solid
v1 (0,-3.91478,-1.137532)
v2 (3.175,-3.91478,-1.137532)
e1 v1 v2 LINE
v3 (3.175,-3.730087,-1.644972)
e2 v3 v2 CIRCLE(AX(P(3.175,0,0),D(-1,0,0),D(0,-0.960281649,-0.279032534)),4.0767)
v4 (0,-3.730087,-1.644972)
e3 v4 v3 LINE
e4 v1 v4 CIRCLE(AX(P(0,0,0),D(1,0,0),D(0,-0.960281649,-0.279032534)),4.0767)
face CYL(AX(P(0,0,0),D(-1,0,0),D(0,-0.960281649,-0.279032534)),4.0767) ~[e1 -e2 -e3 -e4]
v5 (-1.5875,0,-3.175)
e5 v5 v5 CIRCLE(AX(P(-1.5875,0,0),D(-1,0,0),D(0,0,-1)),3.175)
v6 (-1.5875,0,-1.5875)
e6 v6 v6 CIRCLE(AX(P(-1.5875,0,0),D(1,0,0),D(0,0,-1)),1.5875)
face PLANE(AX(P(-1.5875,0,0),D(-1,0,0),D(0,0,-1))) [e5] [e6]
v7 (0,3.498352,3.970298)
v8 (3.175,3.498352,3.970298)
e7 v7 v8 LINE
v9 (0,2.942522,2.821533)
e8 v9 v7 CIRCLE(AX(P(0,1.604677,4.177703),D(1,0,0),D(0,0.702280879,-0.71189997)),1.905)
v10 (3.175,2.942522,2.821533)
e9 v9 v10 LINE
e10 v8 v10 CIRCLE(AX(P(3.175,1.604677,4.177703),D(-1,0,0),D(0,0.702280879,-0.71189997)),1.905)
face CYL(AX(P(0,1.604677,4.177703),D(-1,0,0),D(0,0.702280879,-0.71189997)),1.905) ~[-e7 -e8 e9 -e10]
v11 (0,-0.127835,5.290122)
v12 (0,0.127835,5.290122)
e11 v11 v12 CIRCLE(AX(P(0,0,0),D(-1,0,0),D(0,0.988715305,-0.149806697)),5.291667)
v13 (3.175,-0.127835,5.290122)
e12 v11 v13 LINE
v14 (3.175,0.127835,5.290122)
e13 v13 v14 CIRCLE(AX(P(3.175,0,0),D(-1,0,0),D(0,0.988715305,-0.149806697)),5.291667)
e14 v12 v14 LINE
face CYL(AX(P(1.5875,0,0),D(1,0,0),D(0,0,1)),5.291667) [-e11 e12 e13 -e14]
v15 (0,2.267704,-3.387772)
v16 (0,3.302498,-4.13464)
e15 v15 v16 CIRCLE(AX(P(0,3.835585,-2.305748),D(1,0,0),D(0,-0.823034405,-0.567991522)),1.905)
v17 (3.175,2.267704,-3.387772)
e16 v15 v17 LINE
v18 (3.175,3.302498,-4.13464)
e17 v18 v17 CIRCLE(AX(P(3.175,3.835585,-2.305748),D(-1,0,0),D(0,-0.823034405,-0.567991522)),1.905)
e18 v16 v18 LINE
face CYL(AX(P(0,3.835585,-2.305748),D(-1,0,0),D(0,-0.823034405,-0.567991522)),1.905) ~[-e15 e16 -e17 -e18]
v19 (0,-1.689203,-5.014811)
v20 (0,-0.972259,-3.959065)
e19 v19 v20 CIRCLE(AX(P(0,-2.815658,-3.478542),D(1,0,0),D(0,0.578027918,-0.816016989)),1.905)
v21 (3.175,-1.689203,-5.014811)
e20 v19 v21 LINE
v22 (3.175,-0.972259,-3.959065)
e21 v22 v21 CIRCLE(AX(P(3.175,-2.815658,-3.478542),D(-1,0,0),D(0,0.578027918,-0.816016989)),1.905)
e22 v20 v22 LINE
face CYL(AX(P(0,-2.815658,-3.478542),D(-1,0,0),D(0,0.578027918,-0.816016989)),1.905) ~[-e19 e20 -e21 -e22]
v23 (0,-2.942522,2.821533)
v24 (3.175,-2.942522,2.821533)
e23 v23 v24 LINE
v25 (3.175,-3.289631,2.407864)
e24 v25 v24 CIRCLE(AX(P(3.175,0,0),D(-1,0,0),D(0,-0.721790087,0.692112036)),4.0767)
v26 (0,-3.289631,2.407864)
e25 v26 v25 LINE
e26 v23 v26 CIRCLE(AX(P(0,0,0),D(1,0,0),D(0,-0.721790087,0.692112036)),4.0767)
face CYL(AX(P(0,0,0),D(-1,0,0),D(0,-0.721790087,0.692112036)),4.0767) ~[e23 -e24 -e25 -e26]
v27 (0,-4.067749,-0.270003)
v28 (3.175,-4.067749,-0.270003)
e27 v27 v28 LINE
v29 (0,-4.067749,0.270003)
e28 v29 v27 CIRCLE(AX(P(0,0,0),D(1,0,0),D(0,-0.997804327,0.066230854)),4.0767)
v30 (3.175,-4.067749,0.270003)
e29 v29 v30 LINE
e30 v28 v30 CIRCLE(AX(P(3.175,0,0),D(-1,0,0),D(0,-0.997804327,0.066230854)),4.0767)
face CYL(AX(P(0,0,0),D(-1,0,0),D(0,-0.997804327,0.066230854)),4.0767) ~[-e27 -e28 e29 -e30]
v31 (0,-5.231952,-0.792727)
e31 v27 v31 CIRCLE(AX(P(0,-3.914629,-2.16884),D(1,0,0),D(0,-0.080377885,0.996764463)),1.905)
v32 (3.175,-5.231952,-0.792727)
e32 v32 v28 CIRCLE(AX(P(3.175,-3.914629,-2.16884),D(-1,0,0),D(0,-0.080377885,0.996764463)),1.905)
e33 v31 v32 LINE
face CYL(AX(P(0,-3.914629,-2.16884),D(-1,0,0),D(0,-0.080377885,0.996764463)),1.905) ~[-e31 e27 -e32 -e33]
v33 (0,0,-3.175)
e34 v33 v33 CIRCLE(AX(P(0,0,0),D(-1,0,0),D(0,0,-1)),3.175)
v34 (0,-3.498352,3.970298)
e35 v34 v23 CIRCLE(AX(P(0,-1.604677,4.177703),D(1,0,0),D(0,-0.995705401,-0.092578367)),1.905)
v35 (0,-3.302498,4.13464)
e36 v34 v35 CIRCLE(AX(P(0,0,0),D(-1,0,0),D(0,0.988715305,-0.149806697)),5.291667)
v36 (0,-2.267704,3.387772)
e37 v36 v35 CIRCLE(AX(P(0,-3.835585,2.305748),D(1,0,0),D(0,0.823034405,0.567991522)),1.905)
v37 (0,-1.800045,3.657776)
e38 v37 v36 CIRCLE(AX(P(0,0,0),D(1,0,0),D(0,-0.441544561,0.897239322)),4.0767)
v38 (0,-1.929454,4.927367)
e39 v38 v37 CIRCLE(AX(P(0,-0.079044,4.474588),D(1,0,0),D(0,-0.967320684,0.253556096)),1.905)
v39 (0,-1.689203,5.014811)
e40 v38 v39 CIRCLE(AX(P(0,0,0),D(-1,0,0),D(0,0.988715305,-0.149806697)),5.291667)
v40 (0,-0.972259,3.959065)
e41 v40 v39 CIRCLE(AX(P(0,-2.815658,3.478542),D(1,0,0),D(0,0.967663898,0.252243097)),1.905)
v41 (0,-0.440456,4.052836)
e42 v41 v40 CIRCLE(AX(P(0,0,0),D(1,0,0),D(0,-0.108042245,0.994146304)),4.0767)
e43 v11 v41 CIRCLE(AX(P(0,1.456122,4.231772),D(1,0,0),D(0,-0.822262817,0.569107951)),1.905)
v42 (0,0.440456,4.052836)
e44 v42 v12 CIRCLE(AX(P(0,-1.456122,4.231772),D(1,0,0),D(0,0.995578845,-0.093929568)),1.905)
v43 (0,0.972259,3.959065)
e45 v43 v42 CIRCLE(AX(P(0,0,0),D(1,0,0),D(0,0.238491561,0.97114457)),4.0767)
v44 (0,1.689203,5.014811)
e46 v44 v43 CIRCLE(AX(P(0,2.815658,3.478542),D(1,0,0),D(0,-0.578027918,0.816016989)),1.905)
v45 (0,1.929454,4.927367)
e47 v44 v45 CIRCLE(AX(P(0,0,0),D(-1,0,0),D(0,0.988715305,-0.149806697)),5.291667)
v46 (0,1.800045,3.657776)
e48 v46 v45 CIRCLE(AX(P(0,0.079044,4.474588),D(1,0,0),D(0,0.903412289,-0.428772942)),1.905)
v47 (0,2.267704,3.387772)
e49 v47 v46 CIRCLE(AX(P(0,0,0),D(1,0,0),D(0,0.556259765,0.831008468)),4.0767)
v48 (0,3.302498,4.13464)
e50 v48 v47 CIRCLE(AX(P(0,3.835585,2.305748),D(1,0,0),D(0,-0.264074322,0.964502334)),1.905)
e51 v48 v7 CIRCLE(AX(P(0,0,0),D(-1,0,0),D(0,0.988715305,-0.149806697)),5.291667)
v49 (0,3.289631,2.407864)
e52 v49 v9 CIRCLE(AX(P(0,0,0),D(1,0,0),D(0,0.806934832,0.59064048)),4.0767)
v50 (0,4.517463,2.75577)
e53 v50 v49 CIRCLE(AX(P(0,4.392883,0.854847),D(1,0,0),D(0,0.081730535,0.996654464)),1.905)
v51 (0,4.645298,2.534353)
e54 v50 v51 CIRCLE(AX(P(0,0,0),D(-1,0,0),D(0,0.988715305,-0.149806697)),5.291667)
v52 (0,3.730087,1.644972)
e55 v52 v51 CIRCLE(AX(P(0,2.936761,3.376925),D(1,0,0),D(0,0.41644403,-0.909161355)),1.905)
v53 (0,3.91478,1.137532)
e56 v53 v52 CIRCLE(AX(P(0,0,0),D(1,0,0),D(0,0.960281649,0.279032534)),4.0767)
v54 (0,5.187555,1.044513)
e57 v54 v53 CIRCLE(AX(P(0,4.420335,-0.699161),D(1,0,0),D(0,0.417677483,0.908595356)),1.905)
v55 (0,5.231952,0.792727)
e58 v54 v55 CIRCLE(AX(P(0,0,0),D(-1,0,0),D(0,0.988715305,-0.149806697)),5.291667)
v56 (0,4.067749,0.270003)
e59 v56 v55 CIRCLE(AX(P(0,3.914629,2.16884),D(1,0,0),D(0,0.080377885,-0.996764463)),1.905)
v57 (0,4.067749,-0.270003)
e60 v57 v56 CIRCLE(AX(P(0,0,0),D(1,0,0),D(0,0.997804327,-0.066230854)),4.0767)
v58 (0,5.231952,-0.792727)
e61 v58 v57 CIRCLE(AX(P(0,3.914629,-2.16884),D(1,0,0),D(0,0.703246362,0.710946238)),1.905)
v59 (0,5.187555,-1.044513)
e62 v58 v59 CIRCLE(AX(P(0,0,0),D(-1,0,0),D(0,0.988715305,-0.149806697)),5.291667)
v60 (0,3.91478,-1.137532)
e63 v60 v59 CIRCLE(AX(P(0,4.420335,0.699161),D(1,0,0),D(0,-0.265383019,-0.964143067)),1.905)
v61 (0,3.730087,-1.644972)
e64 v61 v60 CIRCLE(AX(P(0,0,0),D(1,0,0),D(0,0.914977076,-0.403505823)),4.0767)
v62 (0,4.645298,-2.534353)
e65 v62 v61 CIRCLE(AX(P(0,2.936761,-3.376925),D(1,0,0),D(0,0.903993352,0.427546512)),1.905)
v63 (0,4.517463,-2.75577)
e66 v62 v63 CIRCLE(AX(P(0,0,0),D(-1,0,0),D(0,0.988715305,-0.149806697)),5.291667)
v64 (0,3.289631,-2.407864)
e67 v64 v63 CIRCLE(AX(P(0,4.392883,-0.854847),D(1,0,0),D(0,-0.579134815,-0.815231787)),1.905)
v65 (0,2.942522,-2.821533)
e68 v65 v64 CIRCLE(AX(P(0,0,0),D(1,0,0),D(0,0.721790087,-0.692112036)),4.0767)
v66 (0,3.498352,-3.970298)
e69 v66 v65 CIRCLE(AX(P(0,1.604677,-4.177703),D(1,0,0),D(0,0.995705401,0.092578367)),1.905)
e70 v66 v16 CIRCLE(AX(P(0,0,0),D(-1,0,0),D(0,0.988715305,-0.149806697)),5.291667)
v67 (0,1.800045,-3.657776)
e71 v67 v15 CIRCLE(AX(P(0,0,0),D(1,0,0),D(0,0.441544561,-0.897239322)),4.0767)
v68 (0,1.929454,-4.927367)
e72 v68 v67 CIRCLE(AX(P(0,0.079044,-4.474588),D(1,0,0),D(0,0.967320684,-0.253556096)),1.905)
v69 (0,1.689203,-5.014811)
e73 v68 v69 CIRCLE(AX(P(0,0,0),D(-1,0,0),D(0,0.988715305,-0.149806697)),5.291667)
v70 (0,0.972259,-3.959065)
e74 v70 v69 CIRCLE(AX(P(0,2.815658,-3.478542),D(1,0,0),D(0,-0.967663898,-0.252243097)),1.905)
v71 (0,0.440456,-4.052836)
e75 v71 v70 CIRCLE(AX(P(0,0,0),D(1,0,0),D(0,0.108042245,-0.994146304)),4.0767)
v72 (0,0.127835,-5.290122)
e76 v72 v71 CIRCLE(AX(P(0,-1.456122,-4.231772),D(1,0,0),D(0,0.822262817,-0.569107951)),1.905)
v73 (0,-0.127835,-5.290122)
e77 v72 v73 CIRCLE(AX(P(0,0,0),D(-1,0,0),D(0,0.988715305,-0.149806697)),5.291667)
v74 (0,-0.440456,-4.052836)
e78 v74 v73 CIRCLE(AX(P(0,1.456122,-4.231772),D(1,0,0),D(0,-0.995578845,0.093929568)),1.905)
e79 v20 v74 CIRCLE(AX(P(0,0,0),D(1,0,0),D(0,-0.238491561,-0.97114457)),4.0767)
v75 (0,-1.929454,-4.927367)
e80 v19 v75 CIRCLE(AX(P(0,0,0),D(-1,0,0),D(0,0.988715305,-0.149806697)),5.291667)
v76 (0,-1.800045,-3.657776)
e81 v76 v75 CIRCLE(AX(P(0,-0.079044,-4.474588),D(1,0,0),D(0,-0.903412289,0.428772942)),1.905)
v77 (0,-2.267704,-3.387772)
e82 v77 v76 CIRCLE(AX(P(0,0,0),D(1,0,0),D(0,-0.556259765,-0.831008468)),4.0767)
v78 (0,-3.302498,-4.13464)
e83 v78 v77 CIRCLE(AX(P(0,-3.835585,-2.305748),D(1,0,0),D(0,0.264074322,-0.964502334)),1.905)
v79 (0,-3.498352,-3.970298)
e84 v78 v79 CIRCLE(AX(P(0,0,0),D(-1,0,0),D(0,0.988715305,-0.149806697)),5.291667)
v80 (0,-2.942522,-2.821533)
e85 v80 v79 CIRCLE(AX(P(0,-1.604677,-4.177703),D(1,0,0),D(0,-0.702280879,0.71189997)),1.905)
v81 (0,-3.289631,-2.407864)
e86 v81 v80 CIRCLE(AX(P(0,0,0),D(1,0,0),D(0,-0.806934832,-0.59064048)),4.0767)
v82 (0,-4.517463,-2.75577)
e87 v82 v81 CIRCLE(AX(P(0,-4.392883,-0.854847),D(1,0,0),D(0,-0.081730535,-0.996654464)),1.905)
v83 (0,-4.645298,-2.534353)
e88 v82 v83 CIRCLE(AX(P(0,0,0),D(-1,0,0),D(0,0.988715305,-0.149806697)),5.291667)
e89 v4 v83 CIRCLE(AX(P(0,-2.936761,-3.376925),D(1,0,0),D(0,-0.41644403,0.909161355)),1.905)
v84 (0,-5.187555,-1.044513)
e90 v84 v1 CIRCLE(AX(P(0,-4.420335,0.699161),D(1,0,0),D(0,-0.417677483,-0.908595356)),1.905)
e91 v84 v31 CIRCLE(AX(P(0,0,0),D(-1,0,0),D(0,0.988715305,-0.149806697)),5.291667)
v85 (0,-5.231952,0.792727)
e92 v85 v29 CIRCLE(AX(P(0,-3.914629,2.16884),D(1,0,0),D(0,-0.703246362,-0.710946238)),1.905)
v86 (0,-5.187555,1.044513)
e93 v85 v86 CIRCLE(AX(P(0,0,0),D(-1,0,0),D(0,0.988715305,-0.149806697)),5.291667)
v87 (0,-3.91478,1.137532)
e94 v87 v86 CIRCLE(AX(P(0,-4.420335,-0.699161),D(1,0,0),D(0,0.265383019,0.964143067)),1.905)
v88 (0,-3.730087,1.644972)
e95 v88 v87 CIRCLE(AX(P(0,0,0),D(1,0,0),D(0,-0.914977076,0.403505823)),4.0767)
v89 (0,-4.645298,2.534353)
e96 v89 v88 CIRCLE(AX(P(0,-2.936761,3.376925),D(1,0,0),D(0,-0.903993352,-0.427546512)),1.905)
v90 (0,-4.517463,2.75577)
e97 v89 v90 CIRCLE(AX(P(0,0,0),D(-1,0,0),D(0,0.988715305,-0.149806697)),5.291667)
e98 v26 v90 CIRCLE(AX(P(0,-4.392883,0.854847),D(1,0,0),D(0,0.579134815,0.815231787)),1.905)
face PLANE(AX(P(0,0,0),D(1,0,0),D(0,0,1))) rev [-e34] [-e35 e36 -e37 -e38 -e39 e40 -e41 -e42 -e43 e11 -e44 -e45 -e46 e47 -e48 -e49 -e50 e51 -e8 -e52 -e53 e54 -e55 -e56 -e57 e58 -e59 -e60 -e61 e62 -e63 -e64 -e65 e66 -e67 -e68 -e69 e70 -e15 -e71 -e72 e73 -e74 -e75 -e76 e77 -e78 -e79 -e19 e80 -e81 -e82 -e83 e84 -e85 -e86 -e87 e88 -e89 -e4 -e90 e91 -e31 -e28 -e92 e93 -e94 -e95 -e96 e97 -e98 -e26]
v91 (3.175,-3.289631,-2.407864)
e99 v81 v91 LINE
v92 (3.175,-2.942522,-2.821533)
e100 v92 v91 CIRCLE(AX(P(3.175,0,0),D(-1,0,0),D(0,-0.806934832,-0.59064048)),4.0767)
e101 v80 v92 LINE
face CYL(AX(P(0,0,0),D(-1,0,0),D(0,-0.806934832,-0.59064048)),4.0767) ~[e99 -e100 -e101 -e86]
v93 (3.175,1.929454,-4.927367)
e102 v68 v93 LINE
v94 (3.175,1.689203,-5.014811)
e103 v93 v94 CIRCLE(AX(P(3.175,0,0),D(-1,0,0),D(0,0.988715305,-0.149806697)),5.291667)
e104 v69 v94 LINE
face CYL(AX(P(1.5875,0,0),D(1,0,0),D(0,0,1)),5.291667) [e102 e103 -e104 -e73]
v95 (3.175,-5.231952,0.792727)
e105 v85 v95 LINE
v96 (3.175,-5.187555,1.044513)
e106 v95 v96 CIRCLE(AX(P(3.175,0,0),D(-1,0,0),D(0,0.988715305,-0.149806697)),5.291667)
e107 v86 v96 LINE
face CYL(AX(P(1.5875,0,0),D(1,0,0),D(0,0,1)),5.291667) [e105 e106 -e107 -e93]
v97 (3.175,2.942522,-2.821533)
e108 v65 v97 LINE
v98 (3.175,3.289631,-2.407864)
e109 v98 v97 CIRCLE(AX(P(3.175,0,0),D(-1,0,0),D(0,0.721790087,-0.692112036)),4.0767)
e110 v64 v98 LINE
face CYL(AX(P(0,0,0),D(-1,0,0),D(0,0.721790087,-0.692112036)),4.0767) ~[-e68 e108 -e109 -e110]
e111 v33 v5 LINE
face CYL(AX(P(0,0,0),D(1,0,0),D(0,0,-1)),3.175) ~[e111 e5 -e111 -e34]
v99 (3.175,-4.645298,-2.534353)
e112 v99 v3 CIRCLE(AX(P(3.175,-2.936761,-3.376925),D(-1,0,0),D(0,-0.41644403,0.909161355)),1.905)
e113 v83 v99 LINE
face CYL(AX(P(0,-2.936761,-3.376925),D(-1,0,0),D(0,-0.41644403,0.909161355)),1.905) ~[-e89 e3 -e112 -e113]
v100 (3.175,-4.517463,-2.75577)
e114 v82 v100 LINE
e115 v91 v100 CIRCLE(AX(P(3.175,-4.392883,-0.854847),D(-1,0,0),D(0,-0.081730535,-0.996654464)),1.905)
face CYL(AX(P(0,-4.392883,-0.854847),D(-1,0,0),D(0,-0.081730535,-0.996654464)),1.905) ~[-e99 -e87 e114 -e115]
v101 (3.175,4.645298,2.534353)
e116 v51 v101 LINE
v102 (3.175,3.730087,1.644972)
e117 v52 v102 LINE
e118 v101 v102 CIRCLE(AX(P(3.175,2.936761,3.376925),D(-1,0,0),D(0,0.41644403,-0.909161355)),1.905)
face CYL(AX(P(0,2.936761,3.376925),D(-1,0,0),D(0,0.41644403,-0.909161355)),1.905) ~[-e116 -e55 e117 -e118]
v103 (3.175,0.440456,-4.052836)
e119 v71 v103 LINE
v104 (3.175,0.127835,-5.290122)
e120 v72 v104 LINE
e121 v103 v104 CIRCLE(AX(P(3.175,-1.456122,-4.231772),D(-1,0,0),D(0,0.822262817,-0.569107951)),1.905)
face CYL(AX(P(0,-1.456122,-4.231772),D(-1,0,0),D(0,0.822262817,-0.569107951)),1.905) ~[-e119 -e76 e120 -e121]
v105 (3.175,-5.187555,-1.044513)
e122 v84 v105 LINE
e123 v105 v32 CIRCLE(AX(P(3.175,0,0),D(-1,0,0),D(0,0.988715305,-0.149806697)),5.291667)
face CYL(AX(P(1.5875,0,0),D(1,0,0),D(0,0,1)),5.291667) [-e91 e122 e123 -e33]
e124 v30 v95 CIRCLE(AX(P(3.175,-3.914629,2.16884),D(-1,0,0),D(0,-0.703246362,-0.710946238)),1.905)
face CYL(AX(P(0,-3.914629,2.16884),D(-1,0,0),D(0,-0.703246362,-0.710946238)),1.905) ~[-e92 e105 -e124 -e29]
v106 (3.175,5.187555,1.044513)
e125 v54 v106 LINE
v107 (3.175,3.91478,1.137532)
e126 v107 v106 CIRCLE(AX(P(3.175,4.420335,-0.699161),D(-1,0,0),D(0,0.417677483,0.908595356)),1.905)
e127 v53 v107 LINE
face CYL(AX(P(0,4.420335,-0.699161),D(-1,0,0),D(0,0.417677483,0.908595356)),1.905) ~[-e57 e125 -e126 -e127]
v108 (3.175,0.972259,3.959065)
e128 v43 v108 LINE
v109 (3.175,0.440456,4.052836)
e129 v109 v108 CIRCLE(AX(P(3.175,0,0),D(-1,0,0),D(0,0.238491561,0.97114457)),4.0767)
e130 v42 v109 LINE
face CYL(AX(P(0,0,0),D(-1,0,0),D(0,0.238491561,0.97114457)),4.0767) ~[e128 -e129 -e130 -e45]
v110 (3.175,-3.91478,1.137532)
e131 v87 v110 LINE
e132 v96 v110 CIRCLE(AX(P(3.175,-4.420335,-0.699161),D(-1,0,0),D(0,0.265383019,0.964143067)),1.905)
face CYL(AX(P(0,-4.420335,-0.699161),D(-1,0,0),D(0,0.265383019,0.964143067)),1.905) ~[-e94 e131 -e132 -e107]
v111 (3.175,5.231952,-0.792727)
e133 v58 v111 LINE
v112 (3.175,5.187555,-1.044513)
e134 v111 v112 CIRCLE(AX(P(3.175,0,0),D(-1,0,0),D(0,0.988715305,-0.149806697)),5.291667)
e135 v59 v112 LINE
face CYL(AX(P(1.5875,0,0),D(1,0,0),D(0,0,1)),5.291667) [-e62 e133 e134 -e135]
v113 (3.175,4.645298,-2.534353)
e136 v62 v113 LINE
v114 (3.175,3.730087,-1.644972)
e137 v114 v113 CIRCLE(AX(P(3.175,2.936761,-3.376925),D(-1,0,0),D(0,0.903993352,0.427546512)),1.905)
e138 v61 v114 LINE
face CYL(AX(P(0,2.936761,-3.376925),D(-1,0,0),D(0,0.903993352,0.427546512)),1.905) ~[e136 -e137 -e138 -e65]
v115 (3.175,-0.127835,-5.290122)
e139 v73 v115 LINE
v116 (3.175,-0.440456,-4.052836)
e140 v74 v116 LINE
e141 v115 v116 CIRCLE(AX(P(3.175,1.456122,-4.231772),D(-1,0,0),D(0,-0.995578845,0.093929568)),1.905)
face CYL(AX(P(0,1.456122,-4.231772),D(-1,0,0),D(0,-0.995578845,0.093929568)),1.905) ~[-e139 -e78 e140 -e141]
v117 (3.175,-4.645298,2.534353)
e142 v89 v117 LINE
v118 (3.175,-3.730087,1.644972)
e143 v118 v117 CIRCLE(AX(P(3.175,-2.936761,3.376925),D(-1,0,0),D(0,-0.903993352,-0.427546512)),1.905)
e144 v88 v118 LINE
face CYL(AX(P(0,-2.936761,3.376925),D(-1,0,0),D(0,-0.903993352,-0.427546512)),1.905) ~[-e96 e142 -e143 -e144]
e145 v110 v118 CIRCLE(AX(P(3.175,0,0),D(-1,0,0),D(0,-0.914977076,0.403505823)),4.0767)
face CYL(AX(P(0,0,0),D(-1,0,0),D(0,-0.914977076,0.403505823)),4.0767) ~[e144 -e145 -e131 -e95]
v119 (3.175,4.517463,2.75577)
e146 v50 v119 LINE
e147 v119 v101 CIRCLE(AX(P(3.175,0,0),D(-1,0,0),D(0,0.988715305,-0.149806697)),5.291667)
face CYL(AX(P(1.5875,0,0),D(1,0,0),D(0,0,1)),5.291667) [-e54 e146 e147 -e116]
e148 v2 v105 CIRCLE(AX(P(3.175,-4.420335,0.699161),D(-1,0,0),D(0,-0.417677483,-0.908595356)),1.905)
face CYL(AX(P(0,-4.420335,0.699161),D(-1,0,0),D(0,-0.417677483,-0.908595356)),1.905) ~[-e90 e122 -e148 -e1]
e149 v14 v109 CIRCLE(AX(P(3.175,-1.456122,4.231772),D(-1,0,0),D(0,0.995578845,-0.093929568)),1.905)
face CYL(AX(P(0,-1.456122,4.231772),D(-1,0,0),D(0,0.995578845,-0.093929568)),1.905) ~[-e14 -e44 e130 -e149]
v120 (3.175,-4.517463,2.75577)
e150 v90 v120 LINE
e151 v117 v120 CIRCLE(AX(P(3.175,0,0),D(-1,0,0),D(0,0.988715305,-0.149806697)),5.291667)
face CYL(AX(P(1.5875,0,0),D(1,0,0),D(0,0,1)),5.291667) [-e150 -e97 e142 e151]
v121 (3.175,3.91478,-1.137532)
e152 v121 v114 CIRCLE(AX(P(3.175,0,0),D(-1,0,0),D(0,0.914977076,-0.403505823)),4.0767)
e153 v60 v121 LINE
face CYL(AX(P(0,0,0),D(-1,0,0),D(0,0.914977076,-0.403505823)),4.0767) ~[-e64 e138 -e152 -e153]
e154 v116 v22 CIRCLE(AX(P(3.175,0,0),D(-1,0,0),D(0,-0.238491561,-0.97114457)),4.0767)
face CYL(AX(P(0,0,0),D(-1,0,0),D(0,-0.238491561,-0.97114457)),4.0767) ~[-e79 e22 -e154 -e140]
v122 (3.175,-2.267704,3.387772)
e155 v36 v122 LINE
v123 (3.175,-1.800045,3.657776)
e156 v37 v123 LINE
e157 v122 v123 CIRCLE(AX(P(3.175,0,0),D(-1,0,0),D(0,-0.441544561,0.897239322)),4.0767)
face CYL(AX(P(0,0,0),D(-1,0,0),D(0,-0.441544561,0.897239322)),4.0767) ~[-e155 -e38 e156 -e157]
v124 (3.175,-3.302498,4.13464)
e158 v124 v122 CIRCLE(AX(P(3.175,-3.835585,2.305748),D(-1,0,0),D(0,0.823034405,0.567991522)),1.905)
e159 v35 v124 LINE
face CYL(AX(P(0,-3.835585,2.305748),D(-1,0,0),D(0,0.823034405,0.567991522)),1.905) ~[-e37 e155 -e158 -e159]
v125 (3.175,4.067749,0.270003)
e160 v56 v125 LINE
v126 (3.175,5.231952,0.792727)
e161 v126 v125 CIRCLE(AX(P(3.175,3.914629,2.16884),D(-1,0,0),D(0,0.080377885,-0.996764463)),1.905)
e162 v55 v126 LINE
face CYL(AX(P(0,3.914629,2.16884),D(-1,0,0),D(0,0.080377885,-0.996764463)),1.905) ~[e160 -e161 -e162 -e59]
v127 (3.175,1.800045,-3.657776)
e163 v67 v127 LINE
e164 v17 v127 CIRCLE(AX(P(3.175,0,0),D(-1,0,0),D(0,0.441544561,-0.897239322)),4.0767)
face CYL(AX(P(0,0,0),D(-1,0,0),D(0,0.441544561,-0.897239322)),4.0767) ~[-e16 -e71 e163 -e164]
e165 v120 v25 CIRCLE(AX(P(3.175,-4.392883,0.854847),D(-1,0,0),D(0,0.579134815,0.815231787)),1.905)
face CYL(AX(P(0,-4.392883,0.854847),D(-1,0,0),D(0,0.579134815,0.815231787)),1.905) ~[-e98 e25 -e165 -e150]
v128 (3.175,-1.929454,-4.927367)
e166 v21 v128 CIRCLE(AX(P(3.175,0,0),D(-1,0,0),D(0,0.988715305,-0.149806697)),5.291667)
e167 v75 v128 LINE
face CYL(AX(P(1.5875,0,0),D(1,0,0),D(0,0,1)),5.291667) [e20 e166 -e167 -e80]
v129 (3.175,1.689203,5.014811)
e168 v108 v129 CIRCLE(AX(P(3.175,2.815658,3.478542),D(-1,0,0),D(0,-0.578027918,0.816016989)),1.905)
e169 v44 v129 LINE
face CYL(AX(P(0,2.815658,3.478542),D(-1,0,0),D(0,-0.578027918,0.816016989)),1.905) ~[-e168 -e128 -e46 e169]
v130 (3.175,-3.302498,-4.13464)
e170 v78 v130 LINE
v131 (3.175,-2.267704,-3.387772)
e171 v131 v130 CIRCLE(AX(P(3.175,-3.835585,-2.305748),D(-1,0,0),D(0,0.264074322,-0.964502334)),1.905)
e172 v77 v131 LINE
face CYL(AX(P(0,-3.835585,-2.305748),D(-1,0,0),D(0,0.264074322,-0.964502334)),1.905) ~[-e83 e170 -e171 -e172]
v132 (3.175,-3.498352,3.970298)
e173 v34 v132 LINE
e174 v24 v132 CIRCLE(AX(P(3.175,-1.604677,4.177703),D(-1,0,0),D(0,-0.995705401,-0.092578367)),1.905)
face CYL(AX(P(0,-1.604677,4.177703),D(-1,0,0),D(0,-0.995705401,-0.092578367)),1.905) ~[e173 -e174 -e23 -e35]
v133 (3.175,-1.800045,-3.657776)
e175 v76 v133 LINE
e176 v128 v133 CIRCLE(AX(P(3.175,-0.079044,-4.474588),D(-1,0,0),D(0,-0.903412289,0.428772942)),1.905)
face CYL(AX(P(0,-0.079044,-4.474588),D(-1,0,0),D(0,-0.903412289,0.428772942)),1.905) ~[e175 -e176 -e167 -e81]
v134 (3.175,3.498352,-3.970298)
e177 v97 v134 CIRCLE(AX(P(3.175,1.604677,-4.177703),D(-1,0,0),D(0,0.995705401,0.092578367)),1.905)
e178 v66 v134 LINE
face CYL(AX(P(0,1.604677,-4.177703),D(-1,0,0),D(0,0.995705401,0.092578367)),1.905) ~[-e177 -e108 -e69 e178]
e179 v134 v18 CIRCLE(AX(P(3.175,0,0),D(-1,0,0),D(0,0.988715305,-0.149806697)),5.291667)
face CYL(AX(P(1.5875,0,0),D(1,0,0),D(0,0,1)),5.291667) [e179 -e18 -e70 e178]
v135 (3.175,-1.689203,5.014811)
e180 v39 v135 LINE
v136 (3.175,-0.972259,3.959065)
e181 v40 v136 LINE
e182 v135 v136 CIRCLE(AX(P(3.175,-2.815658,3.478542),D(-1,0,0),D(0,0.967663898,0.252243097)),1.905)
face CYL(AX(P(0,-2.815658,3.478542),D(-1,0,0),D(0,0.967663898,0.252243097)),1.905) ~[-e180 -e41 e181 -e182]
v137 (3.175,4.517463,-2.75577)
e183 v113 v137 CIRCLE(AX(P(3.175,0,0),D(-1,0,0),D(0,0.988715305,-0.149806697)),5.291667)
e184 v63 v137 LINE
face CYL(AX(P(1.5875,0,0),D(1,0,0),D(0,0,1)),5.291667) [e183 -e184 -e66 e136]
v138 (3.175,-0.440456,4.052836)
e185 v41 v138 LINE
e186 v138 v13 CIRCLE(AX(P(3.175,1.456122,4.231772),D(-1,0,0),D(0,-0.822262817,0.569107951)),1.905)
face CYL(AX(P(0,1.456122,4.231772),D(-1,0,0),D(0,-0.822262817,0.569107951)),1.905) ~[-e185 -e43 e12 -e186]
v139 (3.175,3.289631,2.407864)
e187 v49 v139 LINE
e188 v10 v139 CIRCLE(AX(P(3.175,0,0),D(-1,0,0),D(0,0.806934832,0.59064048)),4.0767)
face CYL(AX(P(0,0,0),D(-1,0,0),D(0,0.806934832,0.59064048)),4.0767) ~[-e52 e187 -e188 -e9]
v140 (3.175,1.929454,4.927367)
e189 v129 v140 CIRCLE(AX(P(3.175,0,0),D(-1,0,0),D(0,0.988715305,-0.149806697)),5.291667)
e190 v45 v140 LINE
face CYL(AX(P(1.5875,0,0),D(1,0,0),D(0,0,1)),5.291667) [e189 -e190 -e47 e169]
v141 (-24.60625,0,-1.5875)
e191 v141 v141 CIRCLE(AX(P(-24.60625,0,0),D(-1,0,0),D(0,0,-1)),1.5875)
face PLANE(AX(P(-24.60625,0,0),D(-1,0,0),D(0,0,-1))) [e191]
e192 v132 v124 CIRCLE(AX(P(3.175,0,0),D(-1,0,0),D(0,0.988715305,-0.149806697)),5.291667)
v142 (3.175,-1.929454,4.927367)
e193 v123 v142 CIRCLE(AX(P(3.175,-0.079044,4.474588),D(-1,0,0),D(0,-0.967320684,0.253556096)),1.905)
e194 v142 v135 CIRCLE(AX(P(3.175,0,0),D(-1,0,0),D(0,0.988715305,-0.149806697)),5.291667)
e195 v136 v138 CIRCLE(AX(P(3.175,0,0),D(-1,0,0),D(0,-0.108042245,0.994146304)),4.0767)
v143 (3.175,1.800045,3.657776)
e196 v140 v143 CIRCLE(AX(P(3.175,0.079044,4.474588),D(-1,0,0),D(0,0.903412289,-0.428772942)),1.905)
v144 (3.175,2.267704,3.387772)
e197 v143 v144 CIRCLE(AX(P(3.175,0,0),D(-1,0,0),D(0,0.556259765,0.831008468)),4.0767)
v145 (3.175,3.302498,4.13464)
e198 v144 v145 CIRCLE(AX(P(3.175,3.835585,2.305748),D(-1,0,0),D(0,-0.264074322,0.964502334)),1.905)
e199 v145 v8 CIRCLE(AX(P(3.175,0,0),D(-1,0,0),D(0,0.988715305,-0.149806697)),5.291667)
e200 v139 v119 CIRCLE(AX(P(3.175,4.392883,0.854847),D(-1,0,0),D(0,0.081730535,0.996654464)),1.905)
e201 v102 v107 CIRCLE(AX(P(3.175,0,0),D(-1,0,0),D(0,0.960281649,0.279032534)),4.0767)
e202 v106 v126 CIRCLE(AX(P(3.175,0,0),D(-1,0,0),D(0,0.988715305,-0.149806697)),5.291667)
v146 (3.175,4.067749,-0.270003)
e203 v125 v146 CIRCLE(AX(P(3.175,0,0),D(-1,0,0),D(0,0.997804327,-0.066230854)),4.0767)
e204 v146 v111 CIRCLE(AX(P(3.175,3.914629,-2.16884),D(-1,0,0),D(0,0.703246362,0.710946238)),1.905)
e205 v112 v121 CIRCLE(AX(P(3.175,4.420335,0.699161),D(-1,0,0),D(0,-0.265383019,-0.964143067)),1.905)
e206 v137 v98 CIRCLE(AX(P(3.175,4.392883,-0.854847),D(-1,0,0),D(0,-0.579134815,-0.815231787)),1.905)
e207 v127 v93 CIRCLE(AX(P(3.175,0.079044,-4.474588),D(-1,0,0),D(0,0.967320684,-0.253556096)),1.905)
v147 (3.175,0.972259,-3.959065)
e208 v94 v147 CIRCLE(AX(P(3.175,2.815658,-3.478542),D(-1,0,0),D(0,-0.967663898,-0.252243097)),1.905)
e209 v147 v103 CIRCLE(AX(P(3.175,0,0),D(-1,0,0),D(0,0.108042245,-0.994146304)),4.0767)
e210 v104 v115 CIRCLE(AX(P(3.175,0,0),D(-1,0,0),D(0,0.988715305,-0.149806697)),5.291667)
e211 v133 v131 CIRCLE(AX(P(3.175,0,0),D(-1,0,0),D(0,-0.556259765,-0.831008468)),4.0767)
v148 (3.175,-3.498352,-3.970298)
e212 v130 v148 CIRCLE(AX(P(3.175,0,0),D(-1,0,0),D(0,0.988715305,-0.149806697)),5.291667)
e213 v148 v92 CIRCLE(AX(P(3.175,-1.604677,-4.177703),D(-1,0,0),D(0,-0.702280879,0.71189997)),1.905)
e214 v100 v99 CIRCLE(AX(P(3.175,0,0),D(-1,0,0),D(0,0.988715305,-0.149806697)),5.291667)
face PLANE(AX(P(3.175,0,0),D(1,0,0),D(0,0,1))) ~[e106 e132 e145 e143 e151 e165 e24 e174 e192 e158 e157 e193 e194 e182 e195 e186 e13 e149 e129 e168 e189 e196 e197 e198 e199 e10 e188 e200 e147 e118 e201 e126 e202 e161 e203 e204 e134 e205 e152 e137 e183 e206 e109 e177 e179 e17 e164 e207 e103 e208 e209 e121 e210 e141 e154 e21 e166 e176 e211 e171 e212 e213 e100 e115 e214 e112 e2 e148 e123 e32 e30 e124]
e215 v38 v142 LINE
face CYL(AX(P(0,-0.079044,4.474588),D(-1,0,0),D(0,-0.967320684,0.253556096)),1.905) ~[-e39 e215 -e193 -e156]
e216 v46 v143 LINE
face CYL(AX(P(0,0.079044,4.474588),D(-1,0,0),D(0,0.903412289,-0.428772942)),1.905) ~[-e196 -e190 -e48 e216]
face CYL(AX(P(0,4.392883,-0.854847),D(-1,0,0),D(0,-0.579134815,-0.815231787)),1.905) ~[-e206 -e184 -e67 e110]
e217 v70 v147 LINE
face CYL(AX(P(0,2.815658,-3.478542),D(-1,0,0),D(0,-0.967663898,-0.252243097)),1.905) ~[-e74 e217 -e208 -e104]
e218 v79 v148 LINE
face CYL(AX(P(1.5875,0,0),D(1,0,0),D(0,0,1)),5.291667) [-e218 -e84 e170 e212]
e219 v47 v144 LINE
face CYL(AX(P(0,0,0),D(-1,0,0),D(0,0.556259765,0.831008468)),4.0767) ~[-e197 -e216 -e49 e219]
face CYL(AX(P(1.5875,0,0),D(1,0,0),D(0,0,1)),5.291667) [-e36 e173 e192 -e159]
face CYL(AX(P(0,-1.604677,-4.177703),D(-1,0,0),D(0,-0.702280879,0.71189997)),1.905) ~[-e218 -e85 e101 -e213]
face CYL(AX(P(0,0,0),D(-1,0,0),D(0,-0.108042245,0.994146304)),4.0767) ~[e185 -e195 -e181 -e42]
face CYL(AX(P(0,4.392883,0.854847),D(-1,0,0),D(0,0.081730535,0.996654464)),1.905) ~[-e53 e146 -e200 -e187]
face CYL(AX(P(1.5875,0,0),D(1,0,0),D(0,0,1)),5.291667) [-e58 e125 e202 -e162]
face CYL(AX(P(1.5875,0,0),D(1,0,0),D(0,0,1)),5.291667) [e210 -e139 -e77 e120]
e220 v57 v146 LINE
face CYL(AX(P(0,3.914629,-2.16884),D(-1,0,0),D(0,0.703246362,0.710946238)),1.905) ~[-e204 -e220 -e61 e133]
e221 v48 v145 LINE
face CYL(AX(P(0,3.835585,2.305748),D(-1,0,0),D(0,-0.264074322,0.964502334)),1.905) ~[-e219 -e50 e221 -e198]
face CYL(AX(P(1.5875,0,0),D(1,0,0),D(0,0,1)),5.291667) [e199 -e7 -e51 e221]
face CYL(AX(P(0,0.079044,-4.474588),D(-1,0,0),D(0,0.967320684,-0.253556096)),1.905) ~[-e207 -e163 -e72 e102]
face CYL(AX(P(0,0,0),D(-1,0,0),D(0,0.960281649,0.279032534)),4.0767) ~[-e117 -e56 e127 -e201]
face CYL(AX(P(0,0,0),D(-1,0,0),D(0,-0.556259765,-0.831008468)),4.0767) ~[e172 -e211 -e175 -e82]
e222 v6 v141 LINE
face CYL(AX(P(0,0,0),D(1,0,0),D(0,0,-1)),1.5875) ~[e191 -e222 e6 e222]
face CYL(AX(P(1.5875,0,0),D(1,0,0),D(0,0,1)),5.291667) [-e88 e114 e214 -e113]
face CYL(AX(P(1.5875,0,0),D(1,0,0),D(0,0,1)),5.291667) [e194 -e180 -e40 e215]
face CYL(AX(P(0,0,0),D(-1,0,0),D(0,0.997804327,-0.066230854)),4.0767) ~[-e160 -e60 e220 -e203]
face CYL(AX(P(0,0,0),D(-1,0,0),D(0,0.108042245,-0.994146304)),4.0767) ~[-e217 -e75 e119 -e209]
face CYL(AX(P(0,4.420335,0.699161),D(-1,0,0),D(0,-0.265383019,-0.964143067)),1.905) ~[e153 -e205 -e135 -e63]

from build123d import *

# Parameters (mm, degrees)
BASPROSKE_W         = 3.175
BASPROSKE_H         = 5.291666667
TOOTHCUT_DEPTH      = 9.129212583
TEETHCUTS_COUNT     = 18
TEETHCUTS_ANGLE     = 340
SKETCH2_3_R         = 1.5875
BOSS_EXTRUDE1_DEPTH = 24.60625
SKETCH3_R           = 3.175
BOSS_EXTRUDE2_DEPTH = 1.5875


with BuildPart() as part:
    # BasProSke → Base-Revolve (revolve)
    with BuildSketch(Plane(origin=(0, 0, 0), x_dir=(1, 0, 0), z_dir=(0, 1, 0))):
        with Locations((1.5875, 2.645833334)):
            Rectangle(BASPROSKE_W, BASPROSKE_H)
    revolve(axis=Axis((-10, 0, 0), (1, 0, 0)))

    # TooCutSke → ToothCut (cut, through all)
    with BuildSketch(Plane(origin=(0, 0, 0), x_dir=(0, 0, -1), z_dir=(1, 0, 0))):
        with BuildLine():
            ThreePointArc((0.270003318, 4.067748898), (0, 4.0767), (-0.270003318, 4.067748898))
            ThreePointArc((-0.270003318, 4.067748898), (-0.437425956, 4.709129954), (-0.814487039, 5.254313352))
            ThreePointArc((-0.814487039, 5.254313352), (0, 5.317066667), (0.814487039, 5.254313352))
            ThreePointArc((0.814487039, 5.254313352), (0.437425956, 4.709129954), (0.270003318, 4.067748898))
        make_face()
    toothcut = extrude(amount=TOOTHCUT_DEPTH, mode=Mode.SUBTRACT)

    # TeethCuts: ToothCut ×18 about axis
    teethcuts_axis = Axis((-10, 0, 0), (1, 0, 0))
    for i in range(1, TEETHCUTS_COUNT):
        add(toothcut.rotate(teethcuts_axis, i * TEETHCUTS_ANGLE / (TEETHCUTS_COUNT - 1)), mode=Mode.SUBTRACT)

    # Sketch2<3> → Boss-Extrude1 (add)
    with BuildSketch(Plane.ZY):
        Circle(SKETCH2_3_R)
    extrude(amount=BOSS_EXTRUDE1_DEPTH)

    # Sketch3 → Boss-Extrude2 (add)
    with BuildSketch(Plane.ZY):
        Circle(SKETCH3_R)
    extrude(amount=BOSS_EXTRUDE2_DEPTH)


solid = part.part
